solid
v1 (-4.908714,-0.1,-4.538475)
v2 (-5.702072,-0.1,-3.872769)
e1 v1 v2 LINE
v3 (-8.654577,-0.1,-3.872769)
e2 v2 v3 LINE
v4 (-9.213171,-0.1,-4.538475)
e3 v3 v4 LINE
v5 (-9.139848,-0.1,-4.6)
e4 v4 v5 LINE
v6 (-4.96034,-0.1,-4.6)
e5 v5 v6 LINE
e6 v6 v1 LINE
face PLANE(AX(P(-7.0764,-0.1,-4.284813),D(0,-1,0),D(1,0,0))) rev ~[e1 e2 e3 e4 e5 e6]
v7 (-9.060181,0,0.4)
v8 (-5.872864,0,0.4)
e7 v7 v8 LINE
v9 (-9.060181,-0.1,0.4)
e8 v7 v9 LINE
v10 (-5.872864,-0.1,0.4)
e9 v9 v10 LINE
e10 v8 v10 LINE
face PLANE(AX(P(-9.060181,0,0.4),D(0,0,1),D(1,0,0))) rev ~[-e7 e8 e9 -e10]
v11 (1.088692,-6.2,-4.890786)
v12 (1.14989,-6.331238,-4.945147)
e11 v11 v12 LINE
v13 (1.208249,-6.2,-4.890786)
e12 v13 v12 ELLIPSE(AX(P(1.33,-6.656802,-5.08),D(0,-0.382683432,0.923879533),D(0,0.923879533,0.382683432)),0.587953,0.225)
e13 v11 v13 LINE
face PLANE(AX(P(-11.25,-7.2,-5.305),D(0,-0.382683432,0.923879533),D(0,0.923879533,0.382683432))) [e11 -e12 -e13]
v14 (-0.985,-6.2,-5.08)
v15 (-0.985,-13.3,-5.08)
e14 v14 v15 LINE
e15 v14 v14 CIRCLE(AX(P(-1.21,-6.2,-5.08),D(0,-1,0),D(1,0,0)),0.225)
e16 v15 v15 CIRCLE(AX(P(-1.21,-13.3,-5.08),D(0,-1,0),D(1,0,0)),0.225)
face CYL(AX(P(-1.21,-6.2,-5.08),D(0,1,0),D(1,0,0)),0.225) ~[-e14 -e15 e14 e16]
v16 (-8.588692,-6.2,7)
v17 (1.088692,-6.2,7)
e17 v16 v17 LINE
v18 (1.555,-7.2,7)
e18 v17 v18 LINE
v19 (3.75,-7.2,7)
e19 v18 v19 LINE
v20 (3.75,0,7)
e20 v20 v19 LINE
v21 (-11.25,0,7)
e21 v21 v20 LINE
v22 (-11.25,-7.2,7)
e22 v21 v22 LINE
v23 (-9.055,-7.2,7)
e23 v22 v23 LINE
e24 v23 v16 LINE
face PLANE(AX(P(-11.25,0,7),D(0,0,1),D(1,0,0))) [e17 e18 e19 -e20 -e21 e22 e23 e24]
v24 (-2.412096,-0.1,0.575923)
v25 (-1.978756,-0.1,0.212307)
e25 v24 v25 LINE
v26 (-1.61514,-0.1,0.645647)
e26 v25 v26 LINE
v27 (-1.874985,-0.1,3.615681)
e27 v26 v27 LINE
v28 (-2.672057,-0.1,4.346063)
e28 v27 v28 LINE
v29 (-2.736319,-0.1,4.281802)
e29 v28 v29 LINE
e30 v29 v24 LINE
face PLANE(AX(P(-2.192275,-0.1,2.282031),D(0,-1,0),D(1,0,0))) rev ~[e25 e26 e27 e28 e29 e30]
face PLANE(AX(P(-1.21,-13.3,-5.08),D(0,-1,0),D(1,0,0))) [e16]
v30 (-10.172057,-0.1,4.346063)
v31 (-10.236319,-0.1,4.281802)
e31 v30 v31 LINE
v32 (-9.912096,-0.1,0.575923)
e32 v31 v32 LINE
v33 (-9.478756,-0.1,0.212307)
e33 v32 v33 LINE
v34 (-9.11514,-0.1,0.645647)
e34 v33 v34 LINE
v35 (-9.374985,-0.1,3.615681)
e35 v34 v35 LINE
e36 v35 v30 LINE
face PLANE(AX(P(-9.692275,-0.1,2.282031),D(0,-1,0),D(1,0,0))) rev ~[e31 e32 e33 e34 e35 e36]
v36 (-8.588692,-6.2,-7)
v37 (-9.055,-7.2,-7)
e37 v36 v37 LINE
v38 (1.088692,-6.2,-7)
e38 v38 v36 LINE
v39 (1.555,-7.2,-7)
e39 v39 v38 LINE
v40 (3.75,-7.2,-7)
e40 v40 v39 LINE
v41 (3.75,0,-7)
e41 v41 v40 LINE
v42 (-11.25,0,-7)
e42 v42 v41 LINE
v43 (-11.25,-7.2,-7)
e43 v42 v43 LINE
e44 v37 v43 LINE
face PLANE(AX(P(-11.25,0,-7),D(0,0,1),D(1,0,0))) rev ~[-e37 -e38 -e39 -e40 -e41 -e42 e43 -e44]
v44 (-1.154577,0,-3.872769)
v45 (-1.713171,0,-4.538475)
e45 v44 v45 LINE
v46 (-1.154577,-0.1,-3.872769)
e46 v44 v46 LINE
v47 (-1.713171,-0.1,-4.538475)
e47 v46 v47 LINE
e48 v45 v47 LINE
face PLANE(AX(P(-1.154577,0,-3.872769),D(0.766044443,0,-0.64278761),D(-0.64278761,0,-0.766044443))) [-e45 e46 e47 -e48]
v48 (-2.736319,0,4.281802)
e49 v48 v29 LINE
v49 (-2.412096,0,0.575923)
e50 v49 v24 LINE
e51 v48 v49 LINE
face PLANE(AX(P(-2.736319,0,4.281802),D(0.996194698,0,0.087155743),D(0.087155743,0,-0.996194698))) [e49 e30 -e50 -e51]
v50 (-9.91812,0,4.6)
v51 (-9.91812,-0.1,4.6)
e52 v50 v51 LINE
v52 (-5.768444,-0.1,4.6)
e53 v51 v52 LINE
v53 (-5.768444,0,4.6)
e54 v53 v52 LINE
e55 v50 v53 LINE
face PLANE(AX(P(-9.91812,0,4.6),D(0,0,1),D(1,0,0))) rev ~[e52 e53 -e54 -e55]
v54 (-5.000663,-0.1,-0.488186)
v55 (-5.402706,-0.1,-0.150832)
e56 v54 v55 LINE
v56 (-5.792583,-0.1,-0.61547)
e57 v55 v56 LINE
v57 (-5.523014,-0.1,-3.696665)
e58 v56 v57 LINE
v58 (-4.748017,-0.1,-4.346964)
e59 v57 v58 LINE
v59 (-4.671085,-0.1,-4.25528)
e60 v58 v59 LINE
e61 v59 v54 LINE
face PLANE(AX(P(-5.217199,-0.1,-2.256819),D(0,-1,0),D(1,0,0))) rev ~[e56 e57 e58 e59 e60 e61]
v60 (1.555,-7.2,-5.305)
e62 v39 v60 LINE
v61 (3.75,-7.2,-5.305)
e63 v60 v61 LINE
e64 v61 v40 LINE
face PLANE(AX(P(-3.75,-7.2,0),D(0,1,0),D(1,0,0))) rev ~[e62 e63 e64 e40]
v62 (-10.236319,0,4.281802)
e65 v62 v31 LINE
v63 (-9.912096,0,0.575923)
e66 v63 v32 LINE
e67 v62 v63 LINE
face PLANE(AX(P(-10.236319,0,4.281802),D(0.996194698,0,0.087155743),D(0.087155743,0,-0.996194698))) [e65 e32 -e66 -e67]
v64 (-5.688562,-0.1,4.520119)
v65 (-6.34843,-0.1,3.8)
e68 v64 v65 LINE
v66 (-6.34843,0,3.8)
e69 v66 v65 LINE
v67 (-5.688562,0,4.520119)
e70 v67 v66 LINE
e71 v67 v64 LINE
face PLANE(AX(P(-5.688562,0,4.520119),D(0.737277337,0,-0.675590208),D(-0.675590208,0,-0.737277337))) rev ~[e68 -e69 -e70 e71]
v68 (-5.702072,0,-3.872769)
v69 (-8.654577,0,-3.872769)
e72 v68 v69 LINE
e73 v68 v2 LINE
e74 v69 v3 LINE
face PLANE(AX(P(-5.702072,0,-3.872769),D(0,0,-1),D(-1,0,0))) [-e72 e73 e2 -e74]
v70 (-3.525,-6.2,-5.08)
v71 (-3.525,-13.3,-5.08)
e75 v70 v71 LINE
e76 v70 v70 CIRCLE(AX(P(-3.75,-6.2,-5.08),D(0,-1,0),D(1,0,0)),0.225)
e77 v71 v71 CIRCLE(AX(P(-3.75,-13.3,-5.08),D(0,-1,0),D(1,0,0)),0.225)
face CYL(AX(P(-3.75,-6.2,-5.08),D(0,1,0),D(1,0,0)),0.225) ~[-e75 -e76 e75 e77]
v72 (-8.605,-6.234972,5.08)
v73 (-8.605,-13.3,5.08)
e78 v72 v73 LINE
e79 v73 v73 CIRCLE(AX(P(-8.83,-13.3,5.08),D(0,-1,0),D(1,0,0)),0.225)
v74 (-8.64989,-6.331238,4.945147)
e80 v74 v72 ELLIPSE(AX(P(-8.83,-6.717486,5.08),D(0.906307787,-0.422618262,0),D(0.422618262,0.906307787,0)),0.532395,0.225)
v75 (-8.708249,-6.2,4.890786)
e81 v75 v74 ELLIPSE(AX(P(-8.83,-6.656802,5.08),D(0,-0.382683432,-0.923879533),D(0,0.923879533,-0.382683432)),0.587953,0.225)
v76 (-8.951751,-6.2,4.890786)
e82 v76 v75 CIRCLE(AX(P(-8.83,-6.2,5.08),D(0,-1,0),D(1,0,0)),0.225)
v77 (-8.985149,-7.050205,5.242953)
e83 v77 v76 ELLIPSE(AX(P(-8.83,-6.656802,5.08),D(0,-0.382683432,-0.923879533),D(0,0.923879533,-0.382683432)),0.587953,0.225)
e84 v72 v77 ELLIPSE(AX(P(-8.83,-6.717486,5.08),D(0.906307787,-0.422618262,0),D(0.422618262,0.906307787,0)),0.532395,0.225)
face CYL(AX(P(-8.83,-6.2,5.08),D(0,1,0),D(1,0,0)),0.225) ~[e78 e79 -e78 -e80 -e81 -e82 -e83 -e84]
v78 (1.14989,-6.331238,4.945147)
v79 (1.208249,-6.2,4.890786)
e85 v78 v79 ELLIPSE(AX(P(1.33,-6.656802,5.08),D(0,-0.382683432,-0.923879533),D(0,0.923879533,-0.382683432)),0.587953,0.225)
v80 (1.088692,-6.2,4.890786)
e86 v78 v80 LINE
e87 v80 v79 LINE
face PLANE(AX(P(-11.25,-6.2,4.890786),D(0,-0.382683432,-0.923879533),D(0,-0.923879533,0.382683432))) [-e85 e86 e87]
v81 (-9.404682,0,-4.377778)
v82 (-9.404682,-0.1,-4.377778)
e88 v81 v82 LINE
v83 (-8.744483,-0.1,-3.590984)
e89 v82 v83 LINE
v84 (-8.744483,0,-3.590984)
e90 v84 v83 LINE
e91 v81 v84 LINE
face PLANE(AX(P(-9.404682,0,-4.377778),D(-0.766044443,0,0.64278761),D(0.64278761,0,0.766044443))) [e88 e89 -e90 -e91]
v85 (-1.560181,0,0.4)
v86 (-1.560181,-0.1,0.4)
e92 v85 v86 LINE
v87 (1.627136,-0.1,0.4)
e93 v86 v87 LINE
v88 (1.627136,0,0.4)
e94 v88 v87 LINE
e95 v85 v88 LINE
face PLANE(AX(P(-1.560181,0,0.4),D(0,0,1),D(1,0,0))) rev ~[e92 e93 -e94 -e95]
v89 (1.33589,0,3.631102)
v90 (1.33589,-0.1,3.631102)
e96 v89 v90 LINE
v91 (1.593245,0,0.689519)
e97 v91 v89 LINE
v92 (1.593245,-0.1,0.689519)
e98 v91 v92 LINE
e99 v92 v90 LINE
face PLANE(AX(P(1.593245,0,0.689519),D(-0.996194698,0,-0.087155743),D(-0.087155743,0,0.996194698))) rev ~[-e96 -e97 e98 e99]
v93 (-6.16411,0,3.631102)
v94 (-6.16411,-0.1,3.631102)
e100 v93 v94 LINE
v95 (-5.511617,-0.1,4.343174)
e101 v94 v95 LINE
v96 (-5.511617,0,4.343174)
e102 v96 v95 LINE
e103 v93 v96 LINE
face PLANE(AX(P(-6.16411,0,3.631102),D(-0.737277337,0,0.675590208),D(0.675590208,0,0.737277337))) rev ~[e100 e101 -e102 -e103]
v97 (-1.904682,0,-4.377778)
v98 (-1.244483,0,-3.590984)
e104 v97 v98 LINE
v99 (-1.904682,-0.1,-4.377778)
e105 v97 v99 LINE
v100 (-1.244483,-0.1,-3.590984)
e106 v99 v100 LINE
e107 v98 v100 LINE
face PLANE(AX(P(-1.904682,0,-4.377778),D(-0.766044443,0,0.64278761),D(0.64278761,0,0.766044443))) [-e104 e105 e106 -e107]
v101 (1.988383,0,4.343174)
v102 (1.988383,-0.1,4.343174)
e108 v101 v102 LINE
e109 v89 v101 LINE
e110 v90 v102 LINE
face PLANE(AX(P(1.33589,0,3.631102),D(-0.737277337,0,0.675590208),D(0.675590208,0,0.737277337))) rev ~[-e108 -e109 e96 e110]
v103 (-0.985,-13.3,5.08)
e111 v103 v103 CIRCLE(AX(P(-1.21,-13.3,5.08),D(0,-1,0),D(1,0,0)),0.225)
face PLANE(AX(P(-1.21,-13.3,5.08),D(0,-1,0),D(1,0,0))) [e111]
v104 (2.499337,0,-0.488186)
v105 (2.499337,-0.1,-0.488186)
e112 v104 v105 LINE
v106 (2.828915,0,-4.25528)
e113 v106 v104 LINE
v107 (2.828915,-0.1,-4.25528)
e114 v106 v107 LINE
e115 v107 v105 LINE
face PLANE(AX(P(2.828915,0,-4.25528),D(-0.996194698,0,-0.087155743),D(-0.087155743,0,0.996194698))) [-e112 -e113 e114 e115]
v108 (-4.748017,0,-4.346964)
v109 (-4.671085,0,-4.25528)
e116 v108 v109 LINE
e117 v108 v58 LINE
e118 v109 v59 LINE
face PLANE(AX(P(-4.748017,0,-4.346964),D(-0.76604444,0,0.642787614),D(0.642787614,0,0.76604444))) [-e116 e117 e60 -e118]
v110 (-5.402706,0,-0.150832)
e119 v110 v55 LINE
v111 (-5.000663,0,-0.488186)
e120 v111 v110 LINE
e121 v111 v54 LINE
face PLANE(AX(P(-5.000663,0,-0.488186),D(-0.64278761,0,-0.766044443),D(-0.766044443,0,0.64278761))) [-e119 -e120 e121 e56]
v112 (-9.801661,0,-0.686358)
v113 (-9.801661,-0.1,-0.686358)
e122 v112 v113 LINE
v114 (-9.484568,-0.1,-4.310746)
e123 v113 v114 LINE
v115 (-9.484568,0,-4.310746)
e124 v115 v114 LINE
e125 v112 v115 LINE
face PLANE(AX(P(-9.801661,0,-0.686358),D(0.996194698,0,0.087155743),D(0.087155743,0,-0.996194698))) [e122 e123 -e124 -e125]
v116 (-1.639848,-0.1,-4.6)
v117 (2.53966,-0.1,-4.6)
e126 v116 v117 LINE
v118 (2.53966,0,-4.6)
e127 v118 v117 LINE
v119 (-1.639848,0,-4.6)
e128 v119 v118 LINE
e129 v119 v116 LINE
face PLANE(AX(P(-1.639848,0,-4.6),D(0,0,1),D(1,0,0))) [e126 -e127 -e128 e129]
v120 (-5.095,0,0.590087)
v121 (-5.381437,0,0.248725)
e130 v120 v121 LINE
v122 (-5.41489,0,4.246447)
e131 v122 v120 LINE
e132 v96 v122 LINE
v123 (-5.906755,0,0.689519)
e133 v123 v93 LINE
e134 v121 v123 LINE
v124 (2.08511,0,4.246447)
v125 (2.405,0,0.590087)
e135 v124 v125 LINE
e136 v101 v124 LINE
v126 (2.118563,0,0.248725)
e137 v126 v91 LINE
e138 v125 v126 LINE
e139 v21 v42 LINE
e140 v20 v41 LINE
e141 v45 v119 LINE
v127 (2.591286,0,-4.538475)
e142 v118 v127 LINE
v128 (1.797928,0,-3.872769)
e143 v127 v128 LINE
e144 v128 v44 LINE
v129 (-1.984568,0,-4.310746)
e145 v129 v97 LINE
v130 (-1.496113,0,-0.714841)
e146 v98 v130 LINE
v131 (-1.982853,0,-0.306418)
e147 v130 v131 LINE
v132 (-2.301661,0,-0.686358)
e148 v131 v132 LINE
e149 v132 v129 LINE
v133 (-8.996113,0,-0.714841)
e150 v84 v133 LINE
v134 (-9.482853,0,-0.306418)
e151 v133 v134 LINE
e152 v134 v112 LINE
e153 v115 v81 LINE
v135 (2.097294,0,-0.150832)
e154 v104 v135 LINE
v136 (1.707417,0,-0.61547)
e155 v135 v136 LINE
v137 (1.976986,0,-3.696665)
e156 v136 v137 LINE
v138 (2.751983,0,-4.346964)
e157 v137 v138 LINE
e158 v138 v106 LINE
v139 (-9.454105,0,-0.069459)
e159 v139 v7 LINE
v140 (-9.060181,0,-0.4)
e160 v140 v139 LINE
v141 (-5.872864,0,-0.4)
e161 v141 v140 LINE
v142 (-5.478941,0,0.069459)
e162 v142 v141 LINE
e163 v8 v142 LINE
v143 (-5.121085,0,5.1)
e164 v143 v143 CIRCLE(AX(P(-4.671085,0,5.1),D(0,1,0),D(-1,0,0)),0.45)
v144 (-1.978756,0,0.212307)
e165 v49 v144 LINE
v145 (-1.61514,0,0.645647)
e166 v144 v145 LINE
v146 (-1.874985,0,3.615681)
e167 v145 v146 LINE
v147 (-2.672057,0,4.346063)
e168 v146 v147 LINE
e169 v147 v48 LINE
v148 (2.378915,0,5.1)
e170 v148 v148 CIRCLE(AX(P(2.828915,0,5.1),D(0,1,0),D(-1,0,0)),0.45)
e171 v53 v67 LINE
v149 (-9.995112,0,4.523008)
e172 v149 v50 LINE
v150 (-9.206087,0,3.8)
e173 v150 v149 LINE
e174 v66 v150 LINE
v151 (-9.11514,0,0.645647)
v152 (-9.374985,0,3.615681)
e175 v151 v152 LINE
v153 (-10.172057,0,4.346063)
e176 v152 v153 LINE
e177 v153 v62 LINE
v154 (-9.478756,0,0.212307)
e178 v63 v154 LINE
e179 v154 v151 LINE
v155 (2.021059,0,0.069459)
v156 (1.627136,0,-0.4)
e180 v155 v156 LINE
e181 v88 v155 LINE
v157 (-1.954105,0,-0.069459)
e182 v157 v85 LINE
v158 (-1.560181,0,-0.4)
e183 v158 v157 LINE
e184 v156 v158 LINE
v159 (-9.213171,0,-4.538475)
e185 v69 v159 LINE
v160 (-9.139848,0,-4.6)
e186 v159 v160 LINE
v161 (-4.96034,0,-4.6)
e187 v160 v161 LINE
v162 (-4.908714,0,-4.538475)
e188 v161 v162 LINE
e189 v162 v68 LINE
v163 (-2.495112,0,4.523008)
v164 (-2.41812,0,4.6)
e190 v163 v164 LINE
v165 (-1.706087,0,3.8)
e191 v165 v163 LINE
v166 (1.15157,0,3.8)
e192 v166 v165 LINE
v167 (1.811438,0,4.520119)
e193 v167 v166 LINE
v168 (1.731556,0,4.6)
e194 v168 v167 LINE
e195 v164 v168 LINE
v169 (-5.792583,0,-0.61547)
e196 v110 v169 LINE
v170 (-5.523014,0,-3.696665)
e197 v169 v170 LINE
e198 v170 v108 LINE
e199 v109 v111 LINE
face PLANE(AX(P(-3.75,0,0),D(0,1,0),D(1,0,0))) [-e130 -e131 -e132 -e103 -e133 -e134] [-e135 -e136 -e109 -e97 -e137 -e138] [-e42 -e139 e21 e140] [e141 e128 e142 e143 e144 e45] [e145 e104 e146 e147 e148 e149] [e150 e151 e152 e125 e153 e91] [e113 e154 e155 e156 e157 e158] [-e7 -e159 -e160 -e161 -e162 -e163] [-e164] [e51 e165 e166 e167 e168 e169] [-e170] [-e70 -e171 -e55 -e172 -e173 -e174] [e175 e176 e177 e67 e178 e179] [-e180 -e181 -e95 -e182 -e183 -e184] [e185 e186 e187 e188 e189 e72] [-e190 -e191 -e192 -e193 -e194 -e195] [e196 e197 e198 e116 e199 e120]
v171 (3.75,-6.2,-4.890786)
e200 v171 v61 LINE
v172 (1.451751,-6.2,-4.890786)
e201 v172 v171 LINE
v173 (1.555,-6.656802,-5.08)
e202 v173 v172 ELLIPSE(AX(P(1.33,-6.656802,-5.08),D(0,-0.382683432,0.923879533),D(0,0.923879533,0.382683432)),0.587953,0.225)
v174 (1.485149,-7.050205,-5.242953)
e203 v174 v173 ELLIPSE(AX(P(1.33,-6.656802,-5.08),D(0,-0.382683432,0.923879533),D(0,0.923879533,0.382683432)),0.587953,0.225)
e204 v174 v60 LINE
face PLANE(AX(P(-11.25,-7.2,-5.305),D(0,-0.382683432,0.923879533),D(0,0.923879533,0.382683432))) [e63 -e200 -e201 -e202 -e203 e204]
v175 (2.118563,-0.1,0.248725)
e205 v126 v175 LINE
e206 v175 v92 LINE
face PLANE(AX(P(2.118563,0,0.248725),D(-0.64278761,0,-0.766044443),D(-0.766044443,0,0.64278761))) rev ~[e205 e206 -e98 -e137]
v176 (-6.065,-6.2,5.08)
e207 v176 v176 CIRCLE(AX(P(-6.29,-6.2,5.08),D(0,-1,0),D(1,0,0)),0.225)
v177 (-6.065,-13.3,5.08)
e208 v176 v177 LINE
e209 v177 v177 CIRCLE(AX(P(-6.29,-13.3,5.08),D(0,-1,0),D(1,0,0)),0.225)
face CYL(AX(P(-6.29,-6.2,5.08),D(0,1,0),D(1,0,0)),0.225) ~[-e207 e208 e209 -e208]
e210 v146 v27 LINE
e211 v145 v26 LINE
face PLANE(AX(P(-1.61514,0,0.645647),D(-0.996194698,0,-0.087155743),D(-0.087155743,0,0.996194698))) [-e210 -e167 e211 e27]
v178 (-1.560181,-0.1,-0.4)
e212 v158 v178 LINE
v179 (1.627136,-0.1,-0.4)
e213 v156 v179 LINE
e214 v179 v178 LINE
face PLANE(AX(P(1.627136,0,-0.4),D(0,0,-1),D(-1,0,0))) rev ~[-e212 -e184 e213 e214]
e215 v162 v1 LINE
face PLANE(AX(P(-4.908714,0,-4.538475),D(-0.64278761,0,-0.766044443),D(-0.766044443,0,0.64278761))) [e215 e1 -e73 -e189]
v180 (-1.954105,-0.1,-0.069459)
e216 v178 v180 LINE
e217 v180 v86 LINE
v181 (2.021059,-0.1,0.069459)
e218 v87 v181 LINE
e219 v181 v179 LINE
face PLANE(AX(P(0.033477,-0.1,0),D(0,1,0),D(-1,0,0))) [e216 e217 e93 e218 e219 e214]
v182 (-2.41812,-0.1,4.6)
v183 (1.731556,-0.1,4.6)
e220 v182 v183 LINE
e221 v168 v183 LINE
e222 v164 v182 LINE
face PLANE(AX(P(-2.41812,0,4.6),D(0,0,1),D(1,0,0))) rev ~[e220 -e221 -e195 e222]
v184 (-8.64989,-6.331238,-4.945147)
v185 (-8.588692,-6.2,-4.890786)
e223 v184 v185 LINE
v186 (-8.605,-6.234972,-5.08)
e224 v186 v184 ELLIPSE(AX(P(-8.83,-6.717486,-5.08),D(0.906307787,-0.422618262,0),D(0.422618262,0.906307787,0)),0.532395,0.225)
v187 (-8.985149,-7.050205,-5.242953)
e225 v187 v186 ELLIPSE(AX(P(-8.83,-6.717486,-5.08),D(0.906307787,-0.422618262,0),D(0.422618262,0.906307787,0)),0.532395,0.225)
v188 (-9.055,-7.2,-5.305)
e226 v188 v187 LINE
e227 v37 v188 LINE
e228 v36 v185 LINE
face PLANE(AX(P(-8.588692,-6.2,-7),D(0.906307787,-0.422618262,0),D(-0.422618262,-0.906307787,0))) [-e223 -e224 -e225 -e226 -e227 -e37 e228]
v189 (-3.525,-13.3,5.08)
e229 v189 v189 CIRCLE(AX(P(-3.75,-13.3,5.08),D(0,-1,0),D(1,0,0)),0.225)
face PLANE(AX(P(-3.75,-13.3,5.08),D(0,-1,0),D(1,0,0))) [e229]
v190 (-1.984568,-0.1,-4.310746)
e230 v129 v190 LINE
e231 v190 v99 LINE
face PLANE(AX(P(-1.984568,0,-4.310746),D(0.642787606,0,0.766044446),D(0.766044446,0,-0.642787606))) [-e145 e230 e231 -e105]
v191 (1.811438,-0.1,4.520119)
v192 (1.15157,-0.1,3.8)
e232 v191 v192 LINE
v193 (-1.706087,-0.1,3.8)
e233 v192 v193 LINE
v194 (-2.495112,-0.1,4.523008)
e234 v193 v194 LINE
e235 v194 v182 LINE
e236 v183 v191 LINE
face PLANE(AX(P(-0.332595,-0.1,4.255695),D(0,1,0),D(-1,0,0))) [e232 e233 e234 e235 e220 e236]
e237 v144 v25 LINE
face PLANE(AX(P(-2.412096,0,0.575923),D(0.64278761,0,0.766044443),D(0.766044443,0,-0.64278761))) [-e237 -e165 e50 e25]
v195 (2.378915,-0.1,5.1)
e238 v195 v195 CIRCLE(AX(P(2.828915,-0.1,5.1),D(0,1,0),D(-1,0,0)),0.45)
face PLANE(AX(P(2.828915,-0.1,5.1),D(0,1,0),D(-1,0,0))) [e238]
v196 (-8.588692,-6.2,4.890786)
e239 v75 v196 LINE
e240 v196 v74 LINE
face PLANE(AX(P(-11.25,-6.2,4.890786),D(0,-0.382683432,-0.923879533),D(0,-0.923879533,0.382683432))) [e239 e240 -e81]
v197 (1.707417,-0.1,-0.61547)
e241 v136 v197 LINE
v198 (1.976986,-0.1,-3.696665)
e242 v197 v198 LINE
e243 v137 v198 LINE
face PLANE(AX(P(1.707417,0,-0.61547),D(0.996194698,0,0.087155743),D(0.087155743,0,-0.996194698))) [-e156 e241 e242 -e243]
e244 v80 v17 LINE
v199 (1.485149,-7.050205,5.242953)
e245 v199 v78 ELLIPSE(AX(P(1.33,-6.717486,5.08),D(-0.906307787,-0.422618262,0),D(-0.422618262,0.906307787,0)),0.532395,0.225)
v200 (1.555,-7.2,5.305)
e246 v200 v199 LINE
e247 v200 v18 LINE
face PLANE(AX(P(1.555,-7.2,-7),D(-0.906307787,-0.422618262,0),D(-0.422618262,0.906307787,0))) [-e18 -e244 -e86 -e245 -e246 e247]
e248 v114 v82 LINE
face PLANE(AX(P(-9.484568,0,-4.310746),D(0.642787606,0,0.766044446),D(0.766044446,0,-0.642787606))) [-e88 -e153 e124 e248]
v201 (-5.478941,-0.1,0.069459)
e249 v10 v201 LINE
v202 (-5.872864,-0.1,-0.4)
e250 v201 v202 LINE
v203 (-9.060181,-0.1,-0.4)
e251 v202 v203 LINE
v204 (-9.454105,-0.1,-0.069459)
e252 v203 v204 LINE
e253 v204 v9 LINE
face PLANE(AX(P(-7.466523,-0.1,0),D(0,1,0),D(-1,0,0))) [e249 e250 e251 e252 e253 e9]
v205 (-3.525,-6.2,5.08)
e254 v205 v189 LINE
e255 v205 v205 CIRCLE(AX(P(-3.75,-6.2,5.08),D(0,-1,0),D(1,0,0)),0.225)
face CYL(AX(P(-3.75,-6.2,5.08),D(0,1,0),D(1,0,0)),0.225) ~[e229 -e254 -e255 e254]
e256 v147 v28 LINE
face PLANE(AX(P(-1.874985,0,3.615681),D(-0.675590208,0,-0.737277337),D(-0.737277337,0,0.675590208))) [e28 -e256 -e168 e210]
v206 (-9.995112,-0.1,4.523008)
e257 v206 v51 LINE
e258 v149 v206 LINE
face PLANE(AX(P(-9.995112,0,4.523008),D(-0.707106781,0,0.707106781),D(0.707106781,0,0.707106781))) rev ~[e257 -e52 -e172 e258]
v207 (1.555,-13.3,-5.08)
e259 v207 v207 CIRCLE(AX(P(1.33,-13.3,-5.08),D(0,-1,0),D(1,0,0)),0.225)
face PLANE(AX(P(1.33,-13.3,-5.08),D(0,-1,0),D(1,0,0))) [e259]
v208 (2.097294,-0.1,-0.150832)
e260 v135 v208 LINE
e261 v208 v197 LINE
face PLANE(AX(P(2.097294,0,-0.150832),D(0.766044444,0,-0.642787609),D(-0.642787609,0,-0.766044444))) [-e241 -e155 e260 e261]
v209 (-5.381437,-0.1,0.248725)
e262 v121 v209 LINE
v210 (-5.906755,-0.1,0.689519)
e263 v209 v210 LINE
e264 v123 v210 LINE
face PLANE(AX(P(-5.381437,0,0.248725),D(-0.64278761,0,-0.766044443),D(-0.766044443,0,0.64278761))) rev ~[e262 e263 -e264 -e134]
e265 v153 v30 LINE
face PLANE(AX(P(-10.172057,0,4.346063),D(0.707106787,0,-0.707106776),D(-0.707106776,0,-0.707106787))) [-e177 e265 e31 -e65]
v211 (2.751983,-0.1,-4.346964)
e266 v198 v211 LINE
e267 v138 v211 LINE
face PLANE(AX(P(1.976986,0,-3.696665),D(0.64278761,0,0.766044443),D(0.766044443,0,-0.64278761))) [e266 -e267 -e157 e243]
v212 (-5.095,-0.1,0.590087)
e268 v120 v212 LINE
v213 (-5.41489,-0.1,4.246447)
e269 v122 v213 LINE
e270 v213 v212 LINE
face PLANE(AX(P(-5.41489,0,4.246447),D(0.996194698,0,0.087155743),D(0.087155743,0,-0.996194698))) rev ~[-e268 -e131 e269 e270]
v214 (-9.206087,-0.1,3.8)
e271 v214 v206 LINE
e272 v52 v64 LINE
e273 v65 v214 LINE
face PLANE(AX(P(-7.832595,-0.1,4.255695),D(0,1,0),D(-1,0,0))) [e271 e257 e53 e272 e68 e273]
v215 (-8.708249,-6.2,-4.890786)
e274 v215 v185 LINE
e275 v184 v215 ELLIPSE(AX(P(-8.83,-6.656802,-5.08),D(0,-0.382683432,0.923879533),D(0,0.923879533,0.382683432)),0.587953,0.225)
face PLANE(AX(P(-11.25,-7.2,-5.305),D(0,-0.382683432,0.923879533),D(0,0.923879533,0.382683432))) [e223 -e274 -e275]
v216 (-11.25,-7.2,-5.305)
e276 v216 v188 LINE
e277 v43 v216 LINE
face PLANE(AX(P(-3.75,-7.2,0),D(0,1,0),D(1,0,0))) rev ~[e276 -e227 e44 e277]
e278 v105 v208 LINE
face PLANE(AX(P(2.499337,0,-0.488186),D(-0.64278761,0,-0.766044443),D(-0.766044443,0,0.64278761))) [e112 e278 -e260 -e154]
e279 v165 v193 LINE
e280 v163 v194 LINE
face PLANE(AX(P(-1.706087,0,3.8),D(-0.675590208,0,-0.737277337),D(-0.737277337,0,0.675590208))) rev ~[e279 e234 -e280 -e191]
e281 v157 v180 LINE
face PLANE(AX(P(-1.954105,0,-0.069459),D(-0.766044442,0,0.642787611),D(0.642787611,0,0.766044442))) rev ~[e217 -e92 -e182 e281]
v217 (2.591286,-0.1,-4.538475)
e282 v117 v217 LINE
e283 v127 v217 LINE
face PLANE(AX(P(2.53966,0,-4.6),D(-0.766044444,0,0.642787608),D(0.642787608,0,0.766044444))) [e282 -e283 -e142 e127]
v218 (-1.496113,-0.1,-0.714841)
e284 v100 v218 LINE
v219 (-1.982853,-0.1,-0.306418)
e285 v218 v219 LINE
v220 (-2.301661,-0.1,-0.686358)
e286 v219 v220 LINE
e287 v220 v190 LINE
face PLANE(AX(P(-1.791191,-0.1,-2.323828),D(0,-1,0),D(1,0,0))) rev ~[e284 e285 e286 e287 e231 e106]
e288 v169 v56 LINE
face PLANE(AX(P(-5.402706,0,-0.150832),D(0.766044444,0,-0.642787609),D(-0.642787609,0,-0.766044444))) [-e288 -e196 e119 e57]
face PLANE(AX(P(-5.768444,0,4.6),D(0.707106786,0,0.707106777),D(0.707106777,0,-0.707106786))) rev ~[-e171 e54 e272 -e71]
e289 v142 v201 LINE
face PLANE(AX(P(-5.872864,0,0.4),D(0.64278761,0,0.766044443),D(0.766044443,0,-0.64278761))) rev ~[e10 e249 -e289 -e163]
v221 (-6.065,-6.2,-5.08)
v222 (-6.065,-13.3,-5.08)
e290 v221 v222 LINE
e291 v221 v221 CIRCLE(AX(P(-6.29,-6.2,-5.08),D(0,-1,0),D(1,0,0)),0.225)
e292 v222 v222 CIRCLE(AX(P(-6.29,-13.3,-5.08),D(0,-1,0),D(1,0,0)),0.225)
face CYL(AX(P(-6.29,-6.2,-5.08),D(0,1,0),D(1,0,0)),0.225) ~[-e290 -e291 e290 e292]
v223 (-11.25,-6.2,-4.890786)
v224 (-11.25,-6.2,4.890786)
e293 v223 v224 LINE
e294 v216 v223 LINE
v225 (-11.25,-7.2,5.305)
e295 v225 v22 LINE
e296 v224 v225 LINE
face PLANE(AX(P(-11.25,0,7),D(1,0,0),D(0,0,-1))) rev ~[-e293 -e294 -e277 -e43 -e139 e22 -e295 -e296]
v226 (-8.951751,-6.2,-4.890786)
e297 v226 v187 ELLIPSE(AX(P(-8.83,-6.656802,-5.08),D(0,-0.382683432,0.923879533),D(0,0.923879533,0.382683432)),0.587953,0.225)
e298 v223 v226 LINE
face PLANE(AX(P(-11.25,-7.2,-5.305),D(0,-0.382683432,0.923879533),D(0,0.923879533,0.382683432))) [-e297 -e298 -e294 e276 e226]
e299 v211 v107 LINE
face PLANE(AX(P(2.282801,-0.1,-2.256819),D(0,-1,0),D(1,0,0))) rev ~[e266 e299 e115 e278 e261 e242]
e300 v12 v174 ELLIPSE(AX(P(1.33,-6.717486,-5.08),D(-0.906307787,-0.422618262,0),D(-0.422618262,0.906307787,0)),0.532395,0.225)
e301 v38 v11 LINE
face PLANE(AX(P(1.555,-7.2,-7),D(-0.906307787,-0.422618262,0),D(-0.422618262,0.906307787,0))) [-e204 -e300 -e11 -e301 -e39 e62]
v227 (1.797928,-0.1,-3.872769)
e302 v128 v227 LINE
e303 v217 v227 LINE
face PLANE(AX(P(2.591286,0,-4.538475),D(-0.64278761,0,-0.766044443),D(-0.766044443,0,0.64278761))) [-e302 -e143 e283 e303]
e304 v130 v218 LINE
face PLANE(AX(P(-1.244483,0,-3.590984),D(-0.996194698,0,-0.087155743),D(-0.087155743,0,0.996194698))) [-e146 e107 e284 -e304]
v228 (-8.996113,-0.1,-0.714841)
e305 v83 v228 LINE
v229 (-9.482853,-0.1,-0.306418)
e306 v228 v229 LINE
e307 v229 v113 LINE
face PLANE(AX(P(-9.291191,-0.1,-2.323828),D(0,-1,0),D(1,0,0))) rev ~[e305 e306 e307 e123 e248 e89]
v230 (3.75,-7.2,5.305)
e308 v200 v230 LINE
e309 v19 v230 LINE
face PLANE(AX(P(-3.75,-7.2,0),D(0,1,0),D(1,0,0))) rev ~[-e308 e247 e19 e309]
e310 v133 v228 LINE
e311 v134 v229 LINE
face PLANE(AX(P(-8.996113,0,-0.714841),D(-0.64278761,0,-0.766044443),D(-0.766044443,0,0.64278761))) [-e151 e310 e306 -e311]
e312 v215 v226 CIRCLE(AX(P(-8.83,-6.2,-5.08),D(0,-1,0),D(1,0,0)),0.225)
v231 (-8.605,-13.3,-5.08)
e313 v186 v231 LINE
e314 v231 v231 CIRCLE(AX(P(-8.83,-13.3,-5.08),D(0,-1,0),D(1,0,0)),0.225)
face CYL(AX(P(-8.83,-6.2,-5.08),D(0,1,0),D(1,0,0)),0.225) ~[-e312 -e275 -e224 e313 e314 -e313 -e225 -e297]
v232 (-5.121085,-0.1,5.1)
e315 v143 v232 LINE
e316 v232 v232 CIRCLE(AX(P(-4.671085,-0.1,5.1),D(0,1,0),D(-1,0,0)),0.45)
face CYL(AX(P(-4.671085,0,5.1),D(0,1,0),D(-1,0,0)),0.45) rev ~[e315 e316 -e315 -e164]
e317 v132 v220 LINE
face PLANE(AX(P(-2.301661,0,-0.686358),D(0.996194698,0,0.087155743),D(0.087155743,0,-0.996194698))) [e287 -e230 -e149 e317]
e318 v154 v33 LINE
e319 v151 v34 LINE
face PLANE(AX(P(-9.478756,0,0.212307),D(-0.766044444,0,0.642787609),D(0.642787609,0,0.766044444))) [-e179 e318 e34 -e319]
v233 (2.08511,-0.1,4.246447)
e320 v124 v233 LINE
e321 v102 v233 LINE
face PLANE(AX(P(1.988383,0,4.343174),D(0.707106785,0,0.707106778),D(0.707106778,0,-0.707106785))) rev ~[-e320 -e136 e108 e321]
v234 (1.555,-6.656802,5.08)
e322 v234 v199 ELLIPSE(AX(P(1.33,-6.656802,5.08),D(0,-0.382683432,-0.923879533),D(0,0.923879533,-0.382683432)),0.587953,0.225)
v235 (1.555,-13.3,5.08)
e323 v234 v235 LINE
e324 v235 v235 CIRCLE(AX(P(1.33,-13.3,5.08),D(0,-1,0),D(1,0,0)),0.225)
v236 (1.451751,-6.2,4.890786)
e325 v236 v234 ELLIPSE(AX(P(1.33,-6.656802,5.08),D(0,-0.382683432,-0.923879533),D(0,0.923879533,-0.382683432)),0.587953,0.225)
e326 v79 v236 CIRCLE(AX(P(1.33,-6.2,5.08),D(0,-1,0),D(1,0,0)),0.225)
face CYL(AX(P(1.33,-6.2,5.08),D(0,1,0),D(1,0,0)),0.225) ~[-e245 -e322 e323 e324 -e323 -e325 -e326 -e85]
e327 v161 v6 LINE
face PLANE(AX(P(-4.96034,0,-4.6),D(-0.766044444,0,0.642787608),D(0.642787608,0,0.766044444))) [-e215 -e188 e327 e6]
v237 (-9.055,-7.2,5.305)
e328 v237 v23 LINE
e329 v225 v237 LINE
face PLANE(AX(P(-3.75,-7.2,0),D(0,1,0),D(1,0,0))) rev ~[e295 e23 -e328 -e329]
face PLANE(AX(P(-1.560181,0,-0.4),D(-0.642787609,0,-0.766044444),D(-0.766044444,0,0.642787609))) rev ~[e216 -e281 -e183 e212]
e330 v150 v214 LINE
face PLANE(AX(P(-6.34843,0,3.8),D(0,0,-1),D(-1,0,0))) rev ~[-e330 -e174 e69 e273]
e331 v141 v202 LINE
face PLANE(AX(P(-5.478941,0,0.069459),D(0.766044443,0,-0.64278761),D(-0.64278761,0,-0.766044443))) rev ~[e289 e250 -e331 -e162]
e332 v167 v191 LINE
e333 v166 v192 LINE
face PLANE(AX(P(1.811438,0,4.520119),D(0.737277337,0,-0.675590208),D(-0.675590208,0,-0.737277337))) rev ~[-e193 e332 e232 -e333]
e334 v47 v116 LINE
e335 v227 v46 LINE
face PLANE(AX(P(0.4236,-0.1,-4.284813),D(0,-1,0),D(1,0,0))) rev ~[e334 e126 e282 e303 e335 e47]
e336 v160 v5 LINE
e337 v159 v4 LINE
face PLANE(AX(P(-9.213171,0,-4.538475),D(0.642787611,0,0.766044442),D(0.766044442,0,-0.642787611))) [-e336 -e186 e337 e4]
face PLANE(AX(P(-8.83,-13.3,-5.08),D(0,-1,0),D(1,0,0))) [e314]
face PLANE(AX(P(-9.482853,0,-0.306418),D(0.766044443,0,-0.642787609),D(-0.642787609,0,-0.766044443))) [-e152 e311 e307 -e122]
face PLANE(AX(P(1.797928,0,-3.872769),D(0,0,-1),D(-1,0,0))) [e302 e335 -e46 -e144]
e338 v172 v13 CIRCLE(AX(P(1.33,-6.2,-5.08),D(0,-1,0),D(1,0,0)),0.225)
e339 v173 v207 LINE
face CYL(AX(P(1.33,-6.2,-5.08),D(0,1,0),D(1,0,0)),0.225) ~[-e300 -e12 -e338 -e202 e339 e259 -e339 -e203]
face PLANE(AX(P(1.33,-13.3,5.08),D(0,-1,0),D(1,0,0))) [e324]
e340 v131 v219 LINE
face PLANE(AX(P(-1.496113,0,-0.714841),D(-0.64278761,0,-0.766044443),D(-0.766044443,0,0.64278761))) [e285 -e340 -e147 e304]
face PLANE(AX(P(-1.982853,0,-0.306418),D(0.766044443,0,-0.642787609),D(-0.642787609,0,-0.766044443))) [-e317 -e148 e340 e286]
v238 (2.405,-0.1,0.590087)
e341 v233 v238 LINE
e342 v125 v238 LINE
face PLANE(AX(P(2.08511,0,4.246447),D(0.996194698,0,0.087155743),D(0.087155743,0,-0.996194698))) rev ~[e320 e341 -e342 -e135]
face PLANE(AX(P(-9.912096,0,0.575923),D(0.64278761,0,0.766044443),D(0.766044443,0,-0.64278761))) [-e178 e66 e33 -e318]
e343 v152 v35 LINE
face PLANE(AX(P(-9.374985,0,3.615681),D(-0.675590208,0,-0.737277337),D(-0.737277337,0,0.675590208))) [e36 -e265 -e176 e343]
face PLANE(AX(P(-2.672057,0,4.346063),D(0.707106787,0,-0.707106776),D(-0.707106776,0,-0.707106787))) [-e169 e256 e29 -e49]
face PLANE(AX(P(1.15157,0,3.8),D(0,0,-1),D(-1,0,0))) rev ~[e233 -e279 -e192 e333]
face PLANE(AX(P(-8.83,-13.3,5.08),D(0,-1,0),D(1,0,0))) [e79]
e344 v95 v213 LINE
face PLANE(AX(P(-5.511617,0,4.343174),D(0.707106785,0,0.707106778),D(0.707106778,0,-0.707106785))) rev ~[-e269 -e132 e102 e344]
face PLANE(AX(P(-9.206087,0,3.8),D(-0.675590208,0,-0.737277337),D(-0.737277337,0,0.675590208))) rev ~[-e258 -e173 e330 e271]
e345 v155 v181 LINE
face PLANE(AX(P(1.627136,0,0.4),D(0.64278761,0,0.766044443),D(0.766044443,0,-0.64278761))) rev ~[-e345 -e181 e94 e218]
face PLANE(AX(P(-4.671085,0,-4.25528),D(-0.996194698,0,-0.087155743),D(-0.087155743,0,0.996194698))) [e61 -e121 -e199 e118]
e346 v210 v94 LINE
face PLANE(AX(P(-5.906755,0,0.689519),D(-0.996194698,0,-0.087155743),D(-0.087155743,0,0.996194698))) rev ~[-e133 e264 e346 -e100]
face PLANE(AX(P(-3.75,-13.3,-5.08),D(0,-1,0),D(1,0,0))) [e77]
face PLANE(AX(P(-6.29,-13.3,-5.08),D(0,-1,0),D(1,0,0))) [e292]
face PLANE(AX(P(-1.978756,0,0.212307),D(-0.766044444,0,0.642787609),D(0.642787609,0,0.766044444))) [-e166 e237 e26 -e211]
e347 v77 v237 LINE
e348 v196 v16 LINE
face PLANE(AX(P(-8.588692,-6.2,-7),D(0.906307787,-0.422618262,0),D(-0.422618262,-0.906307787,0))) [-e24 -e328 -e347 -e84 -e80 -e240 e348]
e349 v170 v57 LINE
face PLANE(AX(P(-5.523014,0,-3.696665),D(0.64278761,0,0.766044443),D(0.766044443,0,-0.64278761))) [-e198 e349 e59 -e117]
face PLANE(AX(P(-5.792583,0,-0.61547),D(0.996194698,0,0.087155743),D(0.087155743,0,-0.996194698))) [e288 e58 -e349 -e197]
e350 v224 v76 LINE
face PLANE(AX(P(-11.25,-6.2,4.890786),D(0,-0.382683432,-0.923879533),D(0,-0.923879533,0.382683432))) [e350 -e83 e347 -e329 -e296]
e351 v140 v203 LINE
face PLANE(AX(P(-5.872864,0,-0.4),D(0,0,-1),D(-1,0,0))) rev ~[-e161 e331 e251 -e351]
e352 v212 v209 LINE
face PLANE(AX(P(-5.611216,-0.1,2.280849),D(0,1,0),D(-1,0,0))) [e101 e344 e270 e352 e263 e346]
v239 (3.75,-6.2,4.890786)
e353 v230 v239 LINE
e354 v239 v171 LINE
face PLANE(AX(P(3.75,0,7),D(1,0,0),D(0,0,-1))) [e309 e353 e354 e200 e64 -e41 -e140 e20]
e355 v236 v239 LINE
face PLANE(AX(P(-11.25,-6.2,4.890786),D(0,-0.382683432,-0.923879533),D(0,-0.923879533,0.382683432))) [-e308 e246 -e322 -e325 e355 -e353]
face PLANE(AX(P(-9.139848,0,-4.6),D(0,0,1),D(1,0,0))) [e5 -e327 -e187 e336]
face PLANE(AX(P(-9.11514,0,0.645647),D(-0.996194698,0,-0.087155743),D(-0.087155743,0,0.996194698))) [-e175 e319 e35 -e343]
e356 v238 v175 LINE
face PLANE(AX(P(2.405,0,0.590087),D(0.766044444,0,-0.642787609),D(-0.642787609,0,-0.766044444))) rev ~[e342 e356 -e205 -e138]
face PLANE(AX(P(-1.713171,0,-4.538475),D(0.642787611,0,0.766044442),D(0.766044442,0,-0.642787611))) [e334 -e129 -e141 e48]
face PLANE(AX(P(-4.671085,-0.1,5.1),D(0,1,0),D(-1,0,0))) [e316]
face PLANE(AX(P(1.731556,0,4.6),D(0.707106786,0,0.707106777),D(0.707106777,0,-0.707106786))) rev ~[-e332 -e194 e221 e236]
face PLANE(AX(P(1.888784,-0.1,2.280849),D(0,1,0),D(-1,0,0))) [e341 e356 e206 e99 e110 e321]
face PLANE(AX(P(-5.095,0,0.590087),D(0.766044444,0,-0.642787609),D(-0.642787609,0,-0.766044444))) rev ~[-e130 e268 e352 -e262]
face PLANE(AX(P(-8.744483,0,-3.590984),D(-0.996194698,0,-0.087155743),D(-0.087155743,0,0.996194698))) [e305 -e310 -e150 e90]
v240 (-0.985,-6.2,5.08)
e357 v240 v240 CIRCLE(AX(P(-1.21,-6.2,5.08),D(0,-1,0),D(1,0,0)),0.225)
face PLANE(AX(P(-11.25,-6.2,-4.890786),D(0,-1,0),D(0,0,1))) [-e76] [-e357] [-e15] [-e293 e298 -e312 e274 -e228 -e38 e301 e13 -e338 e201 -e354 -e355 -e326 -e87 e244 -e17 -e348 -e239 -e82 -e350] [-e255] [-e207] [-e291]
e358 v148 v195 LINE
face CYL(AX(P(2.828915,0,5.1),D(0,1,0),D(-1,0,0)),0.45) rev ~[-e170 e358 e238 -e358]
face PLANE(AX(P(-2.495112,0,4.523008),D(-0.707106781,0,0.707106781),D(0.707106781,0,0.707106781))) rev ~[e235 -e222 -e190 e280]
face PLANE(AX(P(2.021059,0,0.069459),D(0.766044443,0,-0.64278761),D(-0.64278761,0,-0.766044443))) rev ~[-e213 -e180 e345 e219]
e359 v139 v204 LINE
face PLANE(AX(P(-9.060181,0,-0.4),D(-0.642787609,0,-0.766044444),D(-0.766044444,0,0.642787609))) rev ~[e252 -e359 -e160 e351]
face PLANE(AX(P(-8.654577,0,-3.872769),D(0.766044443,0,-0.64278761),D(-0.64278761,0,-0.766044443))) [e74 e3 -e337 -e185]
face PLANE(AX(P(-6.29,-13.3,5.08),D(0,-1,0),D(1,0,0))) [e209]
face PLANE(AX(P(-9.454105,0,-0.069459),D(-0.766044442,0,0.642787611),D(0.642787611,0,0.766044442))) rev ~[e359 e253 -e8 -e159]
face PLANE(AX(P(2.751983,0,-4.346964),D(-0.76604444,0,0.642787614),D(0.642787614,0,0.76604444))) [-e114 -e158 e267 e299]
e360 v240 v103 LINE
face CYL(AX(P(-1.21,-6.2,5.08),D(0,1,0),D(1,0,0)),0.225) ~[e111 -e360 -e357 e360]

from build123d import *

# Parameters (mm, degrees)
SKETCH1_W               = 15
SKETCH1_H               = 14
EXTRUDE1_DEPTH          = 7.2
SKETCH6_R               = 0.45
CUT_EXTRUDE1_DEPTH      = 0.1
CUT_EXTRUDE2_DEPTH      = 1
CUT_EXTRUDE2_DEPTH_BACK = 16
CUT_EXTRUDE3_DEPTH      = 1
CUT_EXTRUDE3_DEPTH_BACK = 15
LPATTERN2_COUNT         = 2
LPATTERN2_PITCH         = 7.5
BOSS_EXTRUDE4_START     = -1
SKETCH11_R              = 0.225
BOSS_EXTRUDE4_DEPTH     = 7.1
LPATTERN3_COUNT         = 5
LPATTERN3_PITCH         = 2.54
LPATTERN3_COUNT_DIR2    = 2
LPATTERN3_PITCH_DIR2    = 10.16


with BuildPart() as part:
    # Sketch1 → Extrude1 (new body)
    with BuildSketch(Plane(origin=(0, 0, 0), x_dir=(1, 0, 0), z_dir=(0, 1, 0))):
        with Locations((-3.75, 0)):
            Rectangle(SKETCH1_W, SKETCH1_H)
    extrude(amount=-EXTRUDE1_DEPTH)

    # Sketch6 → Cut-Extrude1 (cut)
    with BuildSketch(Plane(origin=(0, 0, 0), x_dir=(-1, 0, 0), z_dir=(0, 1, 0))):
        with Locations((-2.828914589, 5.1)):
            Circle(SKETCH6_R)
        Polygon((1.615140342, 0.645647316), (1.874984591, 3.615680666), (2.672057265, 4.346063205), (2.736318521, 4.281801948), (2.412096101, 0.575922722), (1.978755924, 0.212307139), align=None)
        Polygon((-2.08510989, 4.246446609), (-2.404999919, 0.590086851), (-2.118563171, 0.248724827), (-1.593244842, 0.689519243), (-1.335889658, 3.631102448), (-1.988382771, 4.343173729), align=None)
        Polygon((-2.751982586, -4.346963991), (-2.828914589, -4.255280001), (-2.499336567, -0.488185972), (-2.097293847, -0.150832074), (-1.707416581, -0.615469707), (-1.976986224, -3.696664829), align=None)
        Polygon((-2.591285684, -4.538475102), (-1.79792785, -3.872768836), (1.154576659, -3.872768836), (1.713170541, -4.538475102), (1.639848023, -4.6), (-2.539660165, -4.6), align=None)
        Polygon((1.560181456, -0.4), (1.954104558, -0.069459271), (1.560181456, 0.4), (-1.627135675, 0.4), (-2.021058776, 0.069459271), (-1.627135675, -0.4), align=None)
        Polygon((2.495112157, 4.523008313), (2.41812047, 4.6), (-1.7315565, 4.6), (-1.811437663, 4.520118836), (-1.151570324, 3.8), (1.706087039, 3.8), align=None)
        Polygon((1.982853172, -0.306417777), (2.30166085, -0.686357973), (1.984568022, -4.310745576), (1.904681652, -4.377778199), (1.244483112, -3.590984217), (1.496113015, -0.714841264), align=None)
    cut_extrude1 = extrude(amount=-CUT_EXTRUDE1_DEPTH, mode=Mode.SUBTRACT)

    # Sketch12 → Cut-Extrude2 (cut, two sides)
    with BuildSketch(Plane.ZY.offset(11.25)) as cut_extrude2_sk:
        Polygon((-20.043427491, -42.781711537), (-5.305, -7.2), (-4.890786438, -6.2), (4.890786438, -6.2), (5.305, -7.2), (20.043427491, -42.781711537), (20.043427491, -119.808445619), (-20.043427491, -119.808445619), align=None)
    extrude(amount=CUT_EXTRUDE2_DEPTH, mode=Mode.SUBTRACT)
    extrude(cut_extrude2_sk.sketch, amount=-CUT_EXTRUDE2_DEPTH_BACK, mode=Mode.SUBTRACT)

    # Sketch13 → Cut-Extrude3 (cut, two sides)
    with BuildSketch(Plane(origin=(0, 0, -7), x_dir=(-1, 0, 0), z_dir=(0, 0, -1))) as cut_extrude3_sk:
        Polygon((-1.555, -7.2), (-1.088692342, -6.2), (8.588692342, -6.2), (9.055, -7.2), align=None)
    extrude(amount=CUT_EXTRUDE3_DEPTH, mode=Mode.SUBTRACT)
    extrude(cut_extrude3_sk.sketch, amount=-CUT_EXTRUDE3_DEPTH_BACK, mode=Mode.SUBTRACT)

    # LPattern2: Cut-Extrude1 ×2
    with Locations(*[(-i * LPATTERN2_PITCH, 0, 0) for i in range(1, LPATTERN2_COUNT)]):
        add(cut_extrude1, mode=Mode.SUBTRACT)

    # Sketch11 → Boss-Extrude4 (add)
    with BuildSketch(Plane.XZ.offset(7.2).offset(BOSS_EXTRUDE4_START)):
        with Locations((1.33, 5.08)):
            Circle(SKETCH11_R)
    boss_extrude4 = extrude(amount=BOSS_EXTRUDE4_DEPTH)

    # LPattern3: Boss-Extrude4 5 × 2
    with Locations(*[(-i * LPATTERN3_PITCH, 0, -j * LPATTERN3_PITCH_DIR2) for i in range(LPATTERN3_COUNT) for j in range(LPATTERN3_COUNT_DIR2) if (i, j) != (0, 0)]):
        add(boss_extrude4)


solid = part.part
